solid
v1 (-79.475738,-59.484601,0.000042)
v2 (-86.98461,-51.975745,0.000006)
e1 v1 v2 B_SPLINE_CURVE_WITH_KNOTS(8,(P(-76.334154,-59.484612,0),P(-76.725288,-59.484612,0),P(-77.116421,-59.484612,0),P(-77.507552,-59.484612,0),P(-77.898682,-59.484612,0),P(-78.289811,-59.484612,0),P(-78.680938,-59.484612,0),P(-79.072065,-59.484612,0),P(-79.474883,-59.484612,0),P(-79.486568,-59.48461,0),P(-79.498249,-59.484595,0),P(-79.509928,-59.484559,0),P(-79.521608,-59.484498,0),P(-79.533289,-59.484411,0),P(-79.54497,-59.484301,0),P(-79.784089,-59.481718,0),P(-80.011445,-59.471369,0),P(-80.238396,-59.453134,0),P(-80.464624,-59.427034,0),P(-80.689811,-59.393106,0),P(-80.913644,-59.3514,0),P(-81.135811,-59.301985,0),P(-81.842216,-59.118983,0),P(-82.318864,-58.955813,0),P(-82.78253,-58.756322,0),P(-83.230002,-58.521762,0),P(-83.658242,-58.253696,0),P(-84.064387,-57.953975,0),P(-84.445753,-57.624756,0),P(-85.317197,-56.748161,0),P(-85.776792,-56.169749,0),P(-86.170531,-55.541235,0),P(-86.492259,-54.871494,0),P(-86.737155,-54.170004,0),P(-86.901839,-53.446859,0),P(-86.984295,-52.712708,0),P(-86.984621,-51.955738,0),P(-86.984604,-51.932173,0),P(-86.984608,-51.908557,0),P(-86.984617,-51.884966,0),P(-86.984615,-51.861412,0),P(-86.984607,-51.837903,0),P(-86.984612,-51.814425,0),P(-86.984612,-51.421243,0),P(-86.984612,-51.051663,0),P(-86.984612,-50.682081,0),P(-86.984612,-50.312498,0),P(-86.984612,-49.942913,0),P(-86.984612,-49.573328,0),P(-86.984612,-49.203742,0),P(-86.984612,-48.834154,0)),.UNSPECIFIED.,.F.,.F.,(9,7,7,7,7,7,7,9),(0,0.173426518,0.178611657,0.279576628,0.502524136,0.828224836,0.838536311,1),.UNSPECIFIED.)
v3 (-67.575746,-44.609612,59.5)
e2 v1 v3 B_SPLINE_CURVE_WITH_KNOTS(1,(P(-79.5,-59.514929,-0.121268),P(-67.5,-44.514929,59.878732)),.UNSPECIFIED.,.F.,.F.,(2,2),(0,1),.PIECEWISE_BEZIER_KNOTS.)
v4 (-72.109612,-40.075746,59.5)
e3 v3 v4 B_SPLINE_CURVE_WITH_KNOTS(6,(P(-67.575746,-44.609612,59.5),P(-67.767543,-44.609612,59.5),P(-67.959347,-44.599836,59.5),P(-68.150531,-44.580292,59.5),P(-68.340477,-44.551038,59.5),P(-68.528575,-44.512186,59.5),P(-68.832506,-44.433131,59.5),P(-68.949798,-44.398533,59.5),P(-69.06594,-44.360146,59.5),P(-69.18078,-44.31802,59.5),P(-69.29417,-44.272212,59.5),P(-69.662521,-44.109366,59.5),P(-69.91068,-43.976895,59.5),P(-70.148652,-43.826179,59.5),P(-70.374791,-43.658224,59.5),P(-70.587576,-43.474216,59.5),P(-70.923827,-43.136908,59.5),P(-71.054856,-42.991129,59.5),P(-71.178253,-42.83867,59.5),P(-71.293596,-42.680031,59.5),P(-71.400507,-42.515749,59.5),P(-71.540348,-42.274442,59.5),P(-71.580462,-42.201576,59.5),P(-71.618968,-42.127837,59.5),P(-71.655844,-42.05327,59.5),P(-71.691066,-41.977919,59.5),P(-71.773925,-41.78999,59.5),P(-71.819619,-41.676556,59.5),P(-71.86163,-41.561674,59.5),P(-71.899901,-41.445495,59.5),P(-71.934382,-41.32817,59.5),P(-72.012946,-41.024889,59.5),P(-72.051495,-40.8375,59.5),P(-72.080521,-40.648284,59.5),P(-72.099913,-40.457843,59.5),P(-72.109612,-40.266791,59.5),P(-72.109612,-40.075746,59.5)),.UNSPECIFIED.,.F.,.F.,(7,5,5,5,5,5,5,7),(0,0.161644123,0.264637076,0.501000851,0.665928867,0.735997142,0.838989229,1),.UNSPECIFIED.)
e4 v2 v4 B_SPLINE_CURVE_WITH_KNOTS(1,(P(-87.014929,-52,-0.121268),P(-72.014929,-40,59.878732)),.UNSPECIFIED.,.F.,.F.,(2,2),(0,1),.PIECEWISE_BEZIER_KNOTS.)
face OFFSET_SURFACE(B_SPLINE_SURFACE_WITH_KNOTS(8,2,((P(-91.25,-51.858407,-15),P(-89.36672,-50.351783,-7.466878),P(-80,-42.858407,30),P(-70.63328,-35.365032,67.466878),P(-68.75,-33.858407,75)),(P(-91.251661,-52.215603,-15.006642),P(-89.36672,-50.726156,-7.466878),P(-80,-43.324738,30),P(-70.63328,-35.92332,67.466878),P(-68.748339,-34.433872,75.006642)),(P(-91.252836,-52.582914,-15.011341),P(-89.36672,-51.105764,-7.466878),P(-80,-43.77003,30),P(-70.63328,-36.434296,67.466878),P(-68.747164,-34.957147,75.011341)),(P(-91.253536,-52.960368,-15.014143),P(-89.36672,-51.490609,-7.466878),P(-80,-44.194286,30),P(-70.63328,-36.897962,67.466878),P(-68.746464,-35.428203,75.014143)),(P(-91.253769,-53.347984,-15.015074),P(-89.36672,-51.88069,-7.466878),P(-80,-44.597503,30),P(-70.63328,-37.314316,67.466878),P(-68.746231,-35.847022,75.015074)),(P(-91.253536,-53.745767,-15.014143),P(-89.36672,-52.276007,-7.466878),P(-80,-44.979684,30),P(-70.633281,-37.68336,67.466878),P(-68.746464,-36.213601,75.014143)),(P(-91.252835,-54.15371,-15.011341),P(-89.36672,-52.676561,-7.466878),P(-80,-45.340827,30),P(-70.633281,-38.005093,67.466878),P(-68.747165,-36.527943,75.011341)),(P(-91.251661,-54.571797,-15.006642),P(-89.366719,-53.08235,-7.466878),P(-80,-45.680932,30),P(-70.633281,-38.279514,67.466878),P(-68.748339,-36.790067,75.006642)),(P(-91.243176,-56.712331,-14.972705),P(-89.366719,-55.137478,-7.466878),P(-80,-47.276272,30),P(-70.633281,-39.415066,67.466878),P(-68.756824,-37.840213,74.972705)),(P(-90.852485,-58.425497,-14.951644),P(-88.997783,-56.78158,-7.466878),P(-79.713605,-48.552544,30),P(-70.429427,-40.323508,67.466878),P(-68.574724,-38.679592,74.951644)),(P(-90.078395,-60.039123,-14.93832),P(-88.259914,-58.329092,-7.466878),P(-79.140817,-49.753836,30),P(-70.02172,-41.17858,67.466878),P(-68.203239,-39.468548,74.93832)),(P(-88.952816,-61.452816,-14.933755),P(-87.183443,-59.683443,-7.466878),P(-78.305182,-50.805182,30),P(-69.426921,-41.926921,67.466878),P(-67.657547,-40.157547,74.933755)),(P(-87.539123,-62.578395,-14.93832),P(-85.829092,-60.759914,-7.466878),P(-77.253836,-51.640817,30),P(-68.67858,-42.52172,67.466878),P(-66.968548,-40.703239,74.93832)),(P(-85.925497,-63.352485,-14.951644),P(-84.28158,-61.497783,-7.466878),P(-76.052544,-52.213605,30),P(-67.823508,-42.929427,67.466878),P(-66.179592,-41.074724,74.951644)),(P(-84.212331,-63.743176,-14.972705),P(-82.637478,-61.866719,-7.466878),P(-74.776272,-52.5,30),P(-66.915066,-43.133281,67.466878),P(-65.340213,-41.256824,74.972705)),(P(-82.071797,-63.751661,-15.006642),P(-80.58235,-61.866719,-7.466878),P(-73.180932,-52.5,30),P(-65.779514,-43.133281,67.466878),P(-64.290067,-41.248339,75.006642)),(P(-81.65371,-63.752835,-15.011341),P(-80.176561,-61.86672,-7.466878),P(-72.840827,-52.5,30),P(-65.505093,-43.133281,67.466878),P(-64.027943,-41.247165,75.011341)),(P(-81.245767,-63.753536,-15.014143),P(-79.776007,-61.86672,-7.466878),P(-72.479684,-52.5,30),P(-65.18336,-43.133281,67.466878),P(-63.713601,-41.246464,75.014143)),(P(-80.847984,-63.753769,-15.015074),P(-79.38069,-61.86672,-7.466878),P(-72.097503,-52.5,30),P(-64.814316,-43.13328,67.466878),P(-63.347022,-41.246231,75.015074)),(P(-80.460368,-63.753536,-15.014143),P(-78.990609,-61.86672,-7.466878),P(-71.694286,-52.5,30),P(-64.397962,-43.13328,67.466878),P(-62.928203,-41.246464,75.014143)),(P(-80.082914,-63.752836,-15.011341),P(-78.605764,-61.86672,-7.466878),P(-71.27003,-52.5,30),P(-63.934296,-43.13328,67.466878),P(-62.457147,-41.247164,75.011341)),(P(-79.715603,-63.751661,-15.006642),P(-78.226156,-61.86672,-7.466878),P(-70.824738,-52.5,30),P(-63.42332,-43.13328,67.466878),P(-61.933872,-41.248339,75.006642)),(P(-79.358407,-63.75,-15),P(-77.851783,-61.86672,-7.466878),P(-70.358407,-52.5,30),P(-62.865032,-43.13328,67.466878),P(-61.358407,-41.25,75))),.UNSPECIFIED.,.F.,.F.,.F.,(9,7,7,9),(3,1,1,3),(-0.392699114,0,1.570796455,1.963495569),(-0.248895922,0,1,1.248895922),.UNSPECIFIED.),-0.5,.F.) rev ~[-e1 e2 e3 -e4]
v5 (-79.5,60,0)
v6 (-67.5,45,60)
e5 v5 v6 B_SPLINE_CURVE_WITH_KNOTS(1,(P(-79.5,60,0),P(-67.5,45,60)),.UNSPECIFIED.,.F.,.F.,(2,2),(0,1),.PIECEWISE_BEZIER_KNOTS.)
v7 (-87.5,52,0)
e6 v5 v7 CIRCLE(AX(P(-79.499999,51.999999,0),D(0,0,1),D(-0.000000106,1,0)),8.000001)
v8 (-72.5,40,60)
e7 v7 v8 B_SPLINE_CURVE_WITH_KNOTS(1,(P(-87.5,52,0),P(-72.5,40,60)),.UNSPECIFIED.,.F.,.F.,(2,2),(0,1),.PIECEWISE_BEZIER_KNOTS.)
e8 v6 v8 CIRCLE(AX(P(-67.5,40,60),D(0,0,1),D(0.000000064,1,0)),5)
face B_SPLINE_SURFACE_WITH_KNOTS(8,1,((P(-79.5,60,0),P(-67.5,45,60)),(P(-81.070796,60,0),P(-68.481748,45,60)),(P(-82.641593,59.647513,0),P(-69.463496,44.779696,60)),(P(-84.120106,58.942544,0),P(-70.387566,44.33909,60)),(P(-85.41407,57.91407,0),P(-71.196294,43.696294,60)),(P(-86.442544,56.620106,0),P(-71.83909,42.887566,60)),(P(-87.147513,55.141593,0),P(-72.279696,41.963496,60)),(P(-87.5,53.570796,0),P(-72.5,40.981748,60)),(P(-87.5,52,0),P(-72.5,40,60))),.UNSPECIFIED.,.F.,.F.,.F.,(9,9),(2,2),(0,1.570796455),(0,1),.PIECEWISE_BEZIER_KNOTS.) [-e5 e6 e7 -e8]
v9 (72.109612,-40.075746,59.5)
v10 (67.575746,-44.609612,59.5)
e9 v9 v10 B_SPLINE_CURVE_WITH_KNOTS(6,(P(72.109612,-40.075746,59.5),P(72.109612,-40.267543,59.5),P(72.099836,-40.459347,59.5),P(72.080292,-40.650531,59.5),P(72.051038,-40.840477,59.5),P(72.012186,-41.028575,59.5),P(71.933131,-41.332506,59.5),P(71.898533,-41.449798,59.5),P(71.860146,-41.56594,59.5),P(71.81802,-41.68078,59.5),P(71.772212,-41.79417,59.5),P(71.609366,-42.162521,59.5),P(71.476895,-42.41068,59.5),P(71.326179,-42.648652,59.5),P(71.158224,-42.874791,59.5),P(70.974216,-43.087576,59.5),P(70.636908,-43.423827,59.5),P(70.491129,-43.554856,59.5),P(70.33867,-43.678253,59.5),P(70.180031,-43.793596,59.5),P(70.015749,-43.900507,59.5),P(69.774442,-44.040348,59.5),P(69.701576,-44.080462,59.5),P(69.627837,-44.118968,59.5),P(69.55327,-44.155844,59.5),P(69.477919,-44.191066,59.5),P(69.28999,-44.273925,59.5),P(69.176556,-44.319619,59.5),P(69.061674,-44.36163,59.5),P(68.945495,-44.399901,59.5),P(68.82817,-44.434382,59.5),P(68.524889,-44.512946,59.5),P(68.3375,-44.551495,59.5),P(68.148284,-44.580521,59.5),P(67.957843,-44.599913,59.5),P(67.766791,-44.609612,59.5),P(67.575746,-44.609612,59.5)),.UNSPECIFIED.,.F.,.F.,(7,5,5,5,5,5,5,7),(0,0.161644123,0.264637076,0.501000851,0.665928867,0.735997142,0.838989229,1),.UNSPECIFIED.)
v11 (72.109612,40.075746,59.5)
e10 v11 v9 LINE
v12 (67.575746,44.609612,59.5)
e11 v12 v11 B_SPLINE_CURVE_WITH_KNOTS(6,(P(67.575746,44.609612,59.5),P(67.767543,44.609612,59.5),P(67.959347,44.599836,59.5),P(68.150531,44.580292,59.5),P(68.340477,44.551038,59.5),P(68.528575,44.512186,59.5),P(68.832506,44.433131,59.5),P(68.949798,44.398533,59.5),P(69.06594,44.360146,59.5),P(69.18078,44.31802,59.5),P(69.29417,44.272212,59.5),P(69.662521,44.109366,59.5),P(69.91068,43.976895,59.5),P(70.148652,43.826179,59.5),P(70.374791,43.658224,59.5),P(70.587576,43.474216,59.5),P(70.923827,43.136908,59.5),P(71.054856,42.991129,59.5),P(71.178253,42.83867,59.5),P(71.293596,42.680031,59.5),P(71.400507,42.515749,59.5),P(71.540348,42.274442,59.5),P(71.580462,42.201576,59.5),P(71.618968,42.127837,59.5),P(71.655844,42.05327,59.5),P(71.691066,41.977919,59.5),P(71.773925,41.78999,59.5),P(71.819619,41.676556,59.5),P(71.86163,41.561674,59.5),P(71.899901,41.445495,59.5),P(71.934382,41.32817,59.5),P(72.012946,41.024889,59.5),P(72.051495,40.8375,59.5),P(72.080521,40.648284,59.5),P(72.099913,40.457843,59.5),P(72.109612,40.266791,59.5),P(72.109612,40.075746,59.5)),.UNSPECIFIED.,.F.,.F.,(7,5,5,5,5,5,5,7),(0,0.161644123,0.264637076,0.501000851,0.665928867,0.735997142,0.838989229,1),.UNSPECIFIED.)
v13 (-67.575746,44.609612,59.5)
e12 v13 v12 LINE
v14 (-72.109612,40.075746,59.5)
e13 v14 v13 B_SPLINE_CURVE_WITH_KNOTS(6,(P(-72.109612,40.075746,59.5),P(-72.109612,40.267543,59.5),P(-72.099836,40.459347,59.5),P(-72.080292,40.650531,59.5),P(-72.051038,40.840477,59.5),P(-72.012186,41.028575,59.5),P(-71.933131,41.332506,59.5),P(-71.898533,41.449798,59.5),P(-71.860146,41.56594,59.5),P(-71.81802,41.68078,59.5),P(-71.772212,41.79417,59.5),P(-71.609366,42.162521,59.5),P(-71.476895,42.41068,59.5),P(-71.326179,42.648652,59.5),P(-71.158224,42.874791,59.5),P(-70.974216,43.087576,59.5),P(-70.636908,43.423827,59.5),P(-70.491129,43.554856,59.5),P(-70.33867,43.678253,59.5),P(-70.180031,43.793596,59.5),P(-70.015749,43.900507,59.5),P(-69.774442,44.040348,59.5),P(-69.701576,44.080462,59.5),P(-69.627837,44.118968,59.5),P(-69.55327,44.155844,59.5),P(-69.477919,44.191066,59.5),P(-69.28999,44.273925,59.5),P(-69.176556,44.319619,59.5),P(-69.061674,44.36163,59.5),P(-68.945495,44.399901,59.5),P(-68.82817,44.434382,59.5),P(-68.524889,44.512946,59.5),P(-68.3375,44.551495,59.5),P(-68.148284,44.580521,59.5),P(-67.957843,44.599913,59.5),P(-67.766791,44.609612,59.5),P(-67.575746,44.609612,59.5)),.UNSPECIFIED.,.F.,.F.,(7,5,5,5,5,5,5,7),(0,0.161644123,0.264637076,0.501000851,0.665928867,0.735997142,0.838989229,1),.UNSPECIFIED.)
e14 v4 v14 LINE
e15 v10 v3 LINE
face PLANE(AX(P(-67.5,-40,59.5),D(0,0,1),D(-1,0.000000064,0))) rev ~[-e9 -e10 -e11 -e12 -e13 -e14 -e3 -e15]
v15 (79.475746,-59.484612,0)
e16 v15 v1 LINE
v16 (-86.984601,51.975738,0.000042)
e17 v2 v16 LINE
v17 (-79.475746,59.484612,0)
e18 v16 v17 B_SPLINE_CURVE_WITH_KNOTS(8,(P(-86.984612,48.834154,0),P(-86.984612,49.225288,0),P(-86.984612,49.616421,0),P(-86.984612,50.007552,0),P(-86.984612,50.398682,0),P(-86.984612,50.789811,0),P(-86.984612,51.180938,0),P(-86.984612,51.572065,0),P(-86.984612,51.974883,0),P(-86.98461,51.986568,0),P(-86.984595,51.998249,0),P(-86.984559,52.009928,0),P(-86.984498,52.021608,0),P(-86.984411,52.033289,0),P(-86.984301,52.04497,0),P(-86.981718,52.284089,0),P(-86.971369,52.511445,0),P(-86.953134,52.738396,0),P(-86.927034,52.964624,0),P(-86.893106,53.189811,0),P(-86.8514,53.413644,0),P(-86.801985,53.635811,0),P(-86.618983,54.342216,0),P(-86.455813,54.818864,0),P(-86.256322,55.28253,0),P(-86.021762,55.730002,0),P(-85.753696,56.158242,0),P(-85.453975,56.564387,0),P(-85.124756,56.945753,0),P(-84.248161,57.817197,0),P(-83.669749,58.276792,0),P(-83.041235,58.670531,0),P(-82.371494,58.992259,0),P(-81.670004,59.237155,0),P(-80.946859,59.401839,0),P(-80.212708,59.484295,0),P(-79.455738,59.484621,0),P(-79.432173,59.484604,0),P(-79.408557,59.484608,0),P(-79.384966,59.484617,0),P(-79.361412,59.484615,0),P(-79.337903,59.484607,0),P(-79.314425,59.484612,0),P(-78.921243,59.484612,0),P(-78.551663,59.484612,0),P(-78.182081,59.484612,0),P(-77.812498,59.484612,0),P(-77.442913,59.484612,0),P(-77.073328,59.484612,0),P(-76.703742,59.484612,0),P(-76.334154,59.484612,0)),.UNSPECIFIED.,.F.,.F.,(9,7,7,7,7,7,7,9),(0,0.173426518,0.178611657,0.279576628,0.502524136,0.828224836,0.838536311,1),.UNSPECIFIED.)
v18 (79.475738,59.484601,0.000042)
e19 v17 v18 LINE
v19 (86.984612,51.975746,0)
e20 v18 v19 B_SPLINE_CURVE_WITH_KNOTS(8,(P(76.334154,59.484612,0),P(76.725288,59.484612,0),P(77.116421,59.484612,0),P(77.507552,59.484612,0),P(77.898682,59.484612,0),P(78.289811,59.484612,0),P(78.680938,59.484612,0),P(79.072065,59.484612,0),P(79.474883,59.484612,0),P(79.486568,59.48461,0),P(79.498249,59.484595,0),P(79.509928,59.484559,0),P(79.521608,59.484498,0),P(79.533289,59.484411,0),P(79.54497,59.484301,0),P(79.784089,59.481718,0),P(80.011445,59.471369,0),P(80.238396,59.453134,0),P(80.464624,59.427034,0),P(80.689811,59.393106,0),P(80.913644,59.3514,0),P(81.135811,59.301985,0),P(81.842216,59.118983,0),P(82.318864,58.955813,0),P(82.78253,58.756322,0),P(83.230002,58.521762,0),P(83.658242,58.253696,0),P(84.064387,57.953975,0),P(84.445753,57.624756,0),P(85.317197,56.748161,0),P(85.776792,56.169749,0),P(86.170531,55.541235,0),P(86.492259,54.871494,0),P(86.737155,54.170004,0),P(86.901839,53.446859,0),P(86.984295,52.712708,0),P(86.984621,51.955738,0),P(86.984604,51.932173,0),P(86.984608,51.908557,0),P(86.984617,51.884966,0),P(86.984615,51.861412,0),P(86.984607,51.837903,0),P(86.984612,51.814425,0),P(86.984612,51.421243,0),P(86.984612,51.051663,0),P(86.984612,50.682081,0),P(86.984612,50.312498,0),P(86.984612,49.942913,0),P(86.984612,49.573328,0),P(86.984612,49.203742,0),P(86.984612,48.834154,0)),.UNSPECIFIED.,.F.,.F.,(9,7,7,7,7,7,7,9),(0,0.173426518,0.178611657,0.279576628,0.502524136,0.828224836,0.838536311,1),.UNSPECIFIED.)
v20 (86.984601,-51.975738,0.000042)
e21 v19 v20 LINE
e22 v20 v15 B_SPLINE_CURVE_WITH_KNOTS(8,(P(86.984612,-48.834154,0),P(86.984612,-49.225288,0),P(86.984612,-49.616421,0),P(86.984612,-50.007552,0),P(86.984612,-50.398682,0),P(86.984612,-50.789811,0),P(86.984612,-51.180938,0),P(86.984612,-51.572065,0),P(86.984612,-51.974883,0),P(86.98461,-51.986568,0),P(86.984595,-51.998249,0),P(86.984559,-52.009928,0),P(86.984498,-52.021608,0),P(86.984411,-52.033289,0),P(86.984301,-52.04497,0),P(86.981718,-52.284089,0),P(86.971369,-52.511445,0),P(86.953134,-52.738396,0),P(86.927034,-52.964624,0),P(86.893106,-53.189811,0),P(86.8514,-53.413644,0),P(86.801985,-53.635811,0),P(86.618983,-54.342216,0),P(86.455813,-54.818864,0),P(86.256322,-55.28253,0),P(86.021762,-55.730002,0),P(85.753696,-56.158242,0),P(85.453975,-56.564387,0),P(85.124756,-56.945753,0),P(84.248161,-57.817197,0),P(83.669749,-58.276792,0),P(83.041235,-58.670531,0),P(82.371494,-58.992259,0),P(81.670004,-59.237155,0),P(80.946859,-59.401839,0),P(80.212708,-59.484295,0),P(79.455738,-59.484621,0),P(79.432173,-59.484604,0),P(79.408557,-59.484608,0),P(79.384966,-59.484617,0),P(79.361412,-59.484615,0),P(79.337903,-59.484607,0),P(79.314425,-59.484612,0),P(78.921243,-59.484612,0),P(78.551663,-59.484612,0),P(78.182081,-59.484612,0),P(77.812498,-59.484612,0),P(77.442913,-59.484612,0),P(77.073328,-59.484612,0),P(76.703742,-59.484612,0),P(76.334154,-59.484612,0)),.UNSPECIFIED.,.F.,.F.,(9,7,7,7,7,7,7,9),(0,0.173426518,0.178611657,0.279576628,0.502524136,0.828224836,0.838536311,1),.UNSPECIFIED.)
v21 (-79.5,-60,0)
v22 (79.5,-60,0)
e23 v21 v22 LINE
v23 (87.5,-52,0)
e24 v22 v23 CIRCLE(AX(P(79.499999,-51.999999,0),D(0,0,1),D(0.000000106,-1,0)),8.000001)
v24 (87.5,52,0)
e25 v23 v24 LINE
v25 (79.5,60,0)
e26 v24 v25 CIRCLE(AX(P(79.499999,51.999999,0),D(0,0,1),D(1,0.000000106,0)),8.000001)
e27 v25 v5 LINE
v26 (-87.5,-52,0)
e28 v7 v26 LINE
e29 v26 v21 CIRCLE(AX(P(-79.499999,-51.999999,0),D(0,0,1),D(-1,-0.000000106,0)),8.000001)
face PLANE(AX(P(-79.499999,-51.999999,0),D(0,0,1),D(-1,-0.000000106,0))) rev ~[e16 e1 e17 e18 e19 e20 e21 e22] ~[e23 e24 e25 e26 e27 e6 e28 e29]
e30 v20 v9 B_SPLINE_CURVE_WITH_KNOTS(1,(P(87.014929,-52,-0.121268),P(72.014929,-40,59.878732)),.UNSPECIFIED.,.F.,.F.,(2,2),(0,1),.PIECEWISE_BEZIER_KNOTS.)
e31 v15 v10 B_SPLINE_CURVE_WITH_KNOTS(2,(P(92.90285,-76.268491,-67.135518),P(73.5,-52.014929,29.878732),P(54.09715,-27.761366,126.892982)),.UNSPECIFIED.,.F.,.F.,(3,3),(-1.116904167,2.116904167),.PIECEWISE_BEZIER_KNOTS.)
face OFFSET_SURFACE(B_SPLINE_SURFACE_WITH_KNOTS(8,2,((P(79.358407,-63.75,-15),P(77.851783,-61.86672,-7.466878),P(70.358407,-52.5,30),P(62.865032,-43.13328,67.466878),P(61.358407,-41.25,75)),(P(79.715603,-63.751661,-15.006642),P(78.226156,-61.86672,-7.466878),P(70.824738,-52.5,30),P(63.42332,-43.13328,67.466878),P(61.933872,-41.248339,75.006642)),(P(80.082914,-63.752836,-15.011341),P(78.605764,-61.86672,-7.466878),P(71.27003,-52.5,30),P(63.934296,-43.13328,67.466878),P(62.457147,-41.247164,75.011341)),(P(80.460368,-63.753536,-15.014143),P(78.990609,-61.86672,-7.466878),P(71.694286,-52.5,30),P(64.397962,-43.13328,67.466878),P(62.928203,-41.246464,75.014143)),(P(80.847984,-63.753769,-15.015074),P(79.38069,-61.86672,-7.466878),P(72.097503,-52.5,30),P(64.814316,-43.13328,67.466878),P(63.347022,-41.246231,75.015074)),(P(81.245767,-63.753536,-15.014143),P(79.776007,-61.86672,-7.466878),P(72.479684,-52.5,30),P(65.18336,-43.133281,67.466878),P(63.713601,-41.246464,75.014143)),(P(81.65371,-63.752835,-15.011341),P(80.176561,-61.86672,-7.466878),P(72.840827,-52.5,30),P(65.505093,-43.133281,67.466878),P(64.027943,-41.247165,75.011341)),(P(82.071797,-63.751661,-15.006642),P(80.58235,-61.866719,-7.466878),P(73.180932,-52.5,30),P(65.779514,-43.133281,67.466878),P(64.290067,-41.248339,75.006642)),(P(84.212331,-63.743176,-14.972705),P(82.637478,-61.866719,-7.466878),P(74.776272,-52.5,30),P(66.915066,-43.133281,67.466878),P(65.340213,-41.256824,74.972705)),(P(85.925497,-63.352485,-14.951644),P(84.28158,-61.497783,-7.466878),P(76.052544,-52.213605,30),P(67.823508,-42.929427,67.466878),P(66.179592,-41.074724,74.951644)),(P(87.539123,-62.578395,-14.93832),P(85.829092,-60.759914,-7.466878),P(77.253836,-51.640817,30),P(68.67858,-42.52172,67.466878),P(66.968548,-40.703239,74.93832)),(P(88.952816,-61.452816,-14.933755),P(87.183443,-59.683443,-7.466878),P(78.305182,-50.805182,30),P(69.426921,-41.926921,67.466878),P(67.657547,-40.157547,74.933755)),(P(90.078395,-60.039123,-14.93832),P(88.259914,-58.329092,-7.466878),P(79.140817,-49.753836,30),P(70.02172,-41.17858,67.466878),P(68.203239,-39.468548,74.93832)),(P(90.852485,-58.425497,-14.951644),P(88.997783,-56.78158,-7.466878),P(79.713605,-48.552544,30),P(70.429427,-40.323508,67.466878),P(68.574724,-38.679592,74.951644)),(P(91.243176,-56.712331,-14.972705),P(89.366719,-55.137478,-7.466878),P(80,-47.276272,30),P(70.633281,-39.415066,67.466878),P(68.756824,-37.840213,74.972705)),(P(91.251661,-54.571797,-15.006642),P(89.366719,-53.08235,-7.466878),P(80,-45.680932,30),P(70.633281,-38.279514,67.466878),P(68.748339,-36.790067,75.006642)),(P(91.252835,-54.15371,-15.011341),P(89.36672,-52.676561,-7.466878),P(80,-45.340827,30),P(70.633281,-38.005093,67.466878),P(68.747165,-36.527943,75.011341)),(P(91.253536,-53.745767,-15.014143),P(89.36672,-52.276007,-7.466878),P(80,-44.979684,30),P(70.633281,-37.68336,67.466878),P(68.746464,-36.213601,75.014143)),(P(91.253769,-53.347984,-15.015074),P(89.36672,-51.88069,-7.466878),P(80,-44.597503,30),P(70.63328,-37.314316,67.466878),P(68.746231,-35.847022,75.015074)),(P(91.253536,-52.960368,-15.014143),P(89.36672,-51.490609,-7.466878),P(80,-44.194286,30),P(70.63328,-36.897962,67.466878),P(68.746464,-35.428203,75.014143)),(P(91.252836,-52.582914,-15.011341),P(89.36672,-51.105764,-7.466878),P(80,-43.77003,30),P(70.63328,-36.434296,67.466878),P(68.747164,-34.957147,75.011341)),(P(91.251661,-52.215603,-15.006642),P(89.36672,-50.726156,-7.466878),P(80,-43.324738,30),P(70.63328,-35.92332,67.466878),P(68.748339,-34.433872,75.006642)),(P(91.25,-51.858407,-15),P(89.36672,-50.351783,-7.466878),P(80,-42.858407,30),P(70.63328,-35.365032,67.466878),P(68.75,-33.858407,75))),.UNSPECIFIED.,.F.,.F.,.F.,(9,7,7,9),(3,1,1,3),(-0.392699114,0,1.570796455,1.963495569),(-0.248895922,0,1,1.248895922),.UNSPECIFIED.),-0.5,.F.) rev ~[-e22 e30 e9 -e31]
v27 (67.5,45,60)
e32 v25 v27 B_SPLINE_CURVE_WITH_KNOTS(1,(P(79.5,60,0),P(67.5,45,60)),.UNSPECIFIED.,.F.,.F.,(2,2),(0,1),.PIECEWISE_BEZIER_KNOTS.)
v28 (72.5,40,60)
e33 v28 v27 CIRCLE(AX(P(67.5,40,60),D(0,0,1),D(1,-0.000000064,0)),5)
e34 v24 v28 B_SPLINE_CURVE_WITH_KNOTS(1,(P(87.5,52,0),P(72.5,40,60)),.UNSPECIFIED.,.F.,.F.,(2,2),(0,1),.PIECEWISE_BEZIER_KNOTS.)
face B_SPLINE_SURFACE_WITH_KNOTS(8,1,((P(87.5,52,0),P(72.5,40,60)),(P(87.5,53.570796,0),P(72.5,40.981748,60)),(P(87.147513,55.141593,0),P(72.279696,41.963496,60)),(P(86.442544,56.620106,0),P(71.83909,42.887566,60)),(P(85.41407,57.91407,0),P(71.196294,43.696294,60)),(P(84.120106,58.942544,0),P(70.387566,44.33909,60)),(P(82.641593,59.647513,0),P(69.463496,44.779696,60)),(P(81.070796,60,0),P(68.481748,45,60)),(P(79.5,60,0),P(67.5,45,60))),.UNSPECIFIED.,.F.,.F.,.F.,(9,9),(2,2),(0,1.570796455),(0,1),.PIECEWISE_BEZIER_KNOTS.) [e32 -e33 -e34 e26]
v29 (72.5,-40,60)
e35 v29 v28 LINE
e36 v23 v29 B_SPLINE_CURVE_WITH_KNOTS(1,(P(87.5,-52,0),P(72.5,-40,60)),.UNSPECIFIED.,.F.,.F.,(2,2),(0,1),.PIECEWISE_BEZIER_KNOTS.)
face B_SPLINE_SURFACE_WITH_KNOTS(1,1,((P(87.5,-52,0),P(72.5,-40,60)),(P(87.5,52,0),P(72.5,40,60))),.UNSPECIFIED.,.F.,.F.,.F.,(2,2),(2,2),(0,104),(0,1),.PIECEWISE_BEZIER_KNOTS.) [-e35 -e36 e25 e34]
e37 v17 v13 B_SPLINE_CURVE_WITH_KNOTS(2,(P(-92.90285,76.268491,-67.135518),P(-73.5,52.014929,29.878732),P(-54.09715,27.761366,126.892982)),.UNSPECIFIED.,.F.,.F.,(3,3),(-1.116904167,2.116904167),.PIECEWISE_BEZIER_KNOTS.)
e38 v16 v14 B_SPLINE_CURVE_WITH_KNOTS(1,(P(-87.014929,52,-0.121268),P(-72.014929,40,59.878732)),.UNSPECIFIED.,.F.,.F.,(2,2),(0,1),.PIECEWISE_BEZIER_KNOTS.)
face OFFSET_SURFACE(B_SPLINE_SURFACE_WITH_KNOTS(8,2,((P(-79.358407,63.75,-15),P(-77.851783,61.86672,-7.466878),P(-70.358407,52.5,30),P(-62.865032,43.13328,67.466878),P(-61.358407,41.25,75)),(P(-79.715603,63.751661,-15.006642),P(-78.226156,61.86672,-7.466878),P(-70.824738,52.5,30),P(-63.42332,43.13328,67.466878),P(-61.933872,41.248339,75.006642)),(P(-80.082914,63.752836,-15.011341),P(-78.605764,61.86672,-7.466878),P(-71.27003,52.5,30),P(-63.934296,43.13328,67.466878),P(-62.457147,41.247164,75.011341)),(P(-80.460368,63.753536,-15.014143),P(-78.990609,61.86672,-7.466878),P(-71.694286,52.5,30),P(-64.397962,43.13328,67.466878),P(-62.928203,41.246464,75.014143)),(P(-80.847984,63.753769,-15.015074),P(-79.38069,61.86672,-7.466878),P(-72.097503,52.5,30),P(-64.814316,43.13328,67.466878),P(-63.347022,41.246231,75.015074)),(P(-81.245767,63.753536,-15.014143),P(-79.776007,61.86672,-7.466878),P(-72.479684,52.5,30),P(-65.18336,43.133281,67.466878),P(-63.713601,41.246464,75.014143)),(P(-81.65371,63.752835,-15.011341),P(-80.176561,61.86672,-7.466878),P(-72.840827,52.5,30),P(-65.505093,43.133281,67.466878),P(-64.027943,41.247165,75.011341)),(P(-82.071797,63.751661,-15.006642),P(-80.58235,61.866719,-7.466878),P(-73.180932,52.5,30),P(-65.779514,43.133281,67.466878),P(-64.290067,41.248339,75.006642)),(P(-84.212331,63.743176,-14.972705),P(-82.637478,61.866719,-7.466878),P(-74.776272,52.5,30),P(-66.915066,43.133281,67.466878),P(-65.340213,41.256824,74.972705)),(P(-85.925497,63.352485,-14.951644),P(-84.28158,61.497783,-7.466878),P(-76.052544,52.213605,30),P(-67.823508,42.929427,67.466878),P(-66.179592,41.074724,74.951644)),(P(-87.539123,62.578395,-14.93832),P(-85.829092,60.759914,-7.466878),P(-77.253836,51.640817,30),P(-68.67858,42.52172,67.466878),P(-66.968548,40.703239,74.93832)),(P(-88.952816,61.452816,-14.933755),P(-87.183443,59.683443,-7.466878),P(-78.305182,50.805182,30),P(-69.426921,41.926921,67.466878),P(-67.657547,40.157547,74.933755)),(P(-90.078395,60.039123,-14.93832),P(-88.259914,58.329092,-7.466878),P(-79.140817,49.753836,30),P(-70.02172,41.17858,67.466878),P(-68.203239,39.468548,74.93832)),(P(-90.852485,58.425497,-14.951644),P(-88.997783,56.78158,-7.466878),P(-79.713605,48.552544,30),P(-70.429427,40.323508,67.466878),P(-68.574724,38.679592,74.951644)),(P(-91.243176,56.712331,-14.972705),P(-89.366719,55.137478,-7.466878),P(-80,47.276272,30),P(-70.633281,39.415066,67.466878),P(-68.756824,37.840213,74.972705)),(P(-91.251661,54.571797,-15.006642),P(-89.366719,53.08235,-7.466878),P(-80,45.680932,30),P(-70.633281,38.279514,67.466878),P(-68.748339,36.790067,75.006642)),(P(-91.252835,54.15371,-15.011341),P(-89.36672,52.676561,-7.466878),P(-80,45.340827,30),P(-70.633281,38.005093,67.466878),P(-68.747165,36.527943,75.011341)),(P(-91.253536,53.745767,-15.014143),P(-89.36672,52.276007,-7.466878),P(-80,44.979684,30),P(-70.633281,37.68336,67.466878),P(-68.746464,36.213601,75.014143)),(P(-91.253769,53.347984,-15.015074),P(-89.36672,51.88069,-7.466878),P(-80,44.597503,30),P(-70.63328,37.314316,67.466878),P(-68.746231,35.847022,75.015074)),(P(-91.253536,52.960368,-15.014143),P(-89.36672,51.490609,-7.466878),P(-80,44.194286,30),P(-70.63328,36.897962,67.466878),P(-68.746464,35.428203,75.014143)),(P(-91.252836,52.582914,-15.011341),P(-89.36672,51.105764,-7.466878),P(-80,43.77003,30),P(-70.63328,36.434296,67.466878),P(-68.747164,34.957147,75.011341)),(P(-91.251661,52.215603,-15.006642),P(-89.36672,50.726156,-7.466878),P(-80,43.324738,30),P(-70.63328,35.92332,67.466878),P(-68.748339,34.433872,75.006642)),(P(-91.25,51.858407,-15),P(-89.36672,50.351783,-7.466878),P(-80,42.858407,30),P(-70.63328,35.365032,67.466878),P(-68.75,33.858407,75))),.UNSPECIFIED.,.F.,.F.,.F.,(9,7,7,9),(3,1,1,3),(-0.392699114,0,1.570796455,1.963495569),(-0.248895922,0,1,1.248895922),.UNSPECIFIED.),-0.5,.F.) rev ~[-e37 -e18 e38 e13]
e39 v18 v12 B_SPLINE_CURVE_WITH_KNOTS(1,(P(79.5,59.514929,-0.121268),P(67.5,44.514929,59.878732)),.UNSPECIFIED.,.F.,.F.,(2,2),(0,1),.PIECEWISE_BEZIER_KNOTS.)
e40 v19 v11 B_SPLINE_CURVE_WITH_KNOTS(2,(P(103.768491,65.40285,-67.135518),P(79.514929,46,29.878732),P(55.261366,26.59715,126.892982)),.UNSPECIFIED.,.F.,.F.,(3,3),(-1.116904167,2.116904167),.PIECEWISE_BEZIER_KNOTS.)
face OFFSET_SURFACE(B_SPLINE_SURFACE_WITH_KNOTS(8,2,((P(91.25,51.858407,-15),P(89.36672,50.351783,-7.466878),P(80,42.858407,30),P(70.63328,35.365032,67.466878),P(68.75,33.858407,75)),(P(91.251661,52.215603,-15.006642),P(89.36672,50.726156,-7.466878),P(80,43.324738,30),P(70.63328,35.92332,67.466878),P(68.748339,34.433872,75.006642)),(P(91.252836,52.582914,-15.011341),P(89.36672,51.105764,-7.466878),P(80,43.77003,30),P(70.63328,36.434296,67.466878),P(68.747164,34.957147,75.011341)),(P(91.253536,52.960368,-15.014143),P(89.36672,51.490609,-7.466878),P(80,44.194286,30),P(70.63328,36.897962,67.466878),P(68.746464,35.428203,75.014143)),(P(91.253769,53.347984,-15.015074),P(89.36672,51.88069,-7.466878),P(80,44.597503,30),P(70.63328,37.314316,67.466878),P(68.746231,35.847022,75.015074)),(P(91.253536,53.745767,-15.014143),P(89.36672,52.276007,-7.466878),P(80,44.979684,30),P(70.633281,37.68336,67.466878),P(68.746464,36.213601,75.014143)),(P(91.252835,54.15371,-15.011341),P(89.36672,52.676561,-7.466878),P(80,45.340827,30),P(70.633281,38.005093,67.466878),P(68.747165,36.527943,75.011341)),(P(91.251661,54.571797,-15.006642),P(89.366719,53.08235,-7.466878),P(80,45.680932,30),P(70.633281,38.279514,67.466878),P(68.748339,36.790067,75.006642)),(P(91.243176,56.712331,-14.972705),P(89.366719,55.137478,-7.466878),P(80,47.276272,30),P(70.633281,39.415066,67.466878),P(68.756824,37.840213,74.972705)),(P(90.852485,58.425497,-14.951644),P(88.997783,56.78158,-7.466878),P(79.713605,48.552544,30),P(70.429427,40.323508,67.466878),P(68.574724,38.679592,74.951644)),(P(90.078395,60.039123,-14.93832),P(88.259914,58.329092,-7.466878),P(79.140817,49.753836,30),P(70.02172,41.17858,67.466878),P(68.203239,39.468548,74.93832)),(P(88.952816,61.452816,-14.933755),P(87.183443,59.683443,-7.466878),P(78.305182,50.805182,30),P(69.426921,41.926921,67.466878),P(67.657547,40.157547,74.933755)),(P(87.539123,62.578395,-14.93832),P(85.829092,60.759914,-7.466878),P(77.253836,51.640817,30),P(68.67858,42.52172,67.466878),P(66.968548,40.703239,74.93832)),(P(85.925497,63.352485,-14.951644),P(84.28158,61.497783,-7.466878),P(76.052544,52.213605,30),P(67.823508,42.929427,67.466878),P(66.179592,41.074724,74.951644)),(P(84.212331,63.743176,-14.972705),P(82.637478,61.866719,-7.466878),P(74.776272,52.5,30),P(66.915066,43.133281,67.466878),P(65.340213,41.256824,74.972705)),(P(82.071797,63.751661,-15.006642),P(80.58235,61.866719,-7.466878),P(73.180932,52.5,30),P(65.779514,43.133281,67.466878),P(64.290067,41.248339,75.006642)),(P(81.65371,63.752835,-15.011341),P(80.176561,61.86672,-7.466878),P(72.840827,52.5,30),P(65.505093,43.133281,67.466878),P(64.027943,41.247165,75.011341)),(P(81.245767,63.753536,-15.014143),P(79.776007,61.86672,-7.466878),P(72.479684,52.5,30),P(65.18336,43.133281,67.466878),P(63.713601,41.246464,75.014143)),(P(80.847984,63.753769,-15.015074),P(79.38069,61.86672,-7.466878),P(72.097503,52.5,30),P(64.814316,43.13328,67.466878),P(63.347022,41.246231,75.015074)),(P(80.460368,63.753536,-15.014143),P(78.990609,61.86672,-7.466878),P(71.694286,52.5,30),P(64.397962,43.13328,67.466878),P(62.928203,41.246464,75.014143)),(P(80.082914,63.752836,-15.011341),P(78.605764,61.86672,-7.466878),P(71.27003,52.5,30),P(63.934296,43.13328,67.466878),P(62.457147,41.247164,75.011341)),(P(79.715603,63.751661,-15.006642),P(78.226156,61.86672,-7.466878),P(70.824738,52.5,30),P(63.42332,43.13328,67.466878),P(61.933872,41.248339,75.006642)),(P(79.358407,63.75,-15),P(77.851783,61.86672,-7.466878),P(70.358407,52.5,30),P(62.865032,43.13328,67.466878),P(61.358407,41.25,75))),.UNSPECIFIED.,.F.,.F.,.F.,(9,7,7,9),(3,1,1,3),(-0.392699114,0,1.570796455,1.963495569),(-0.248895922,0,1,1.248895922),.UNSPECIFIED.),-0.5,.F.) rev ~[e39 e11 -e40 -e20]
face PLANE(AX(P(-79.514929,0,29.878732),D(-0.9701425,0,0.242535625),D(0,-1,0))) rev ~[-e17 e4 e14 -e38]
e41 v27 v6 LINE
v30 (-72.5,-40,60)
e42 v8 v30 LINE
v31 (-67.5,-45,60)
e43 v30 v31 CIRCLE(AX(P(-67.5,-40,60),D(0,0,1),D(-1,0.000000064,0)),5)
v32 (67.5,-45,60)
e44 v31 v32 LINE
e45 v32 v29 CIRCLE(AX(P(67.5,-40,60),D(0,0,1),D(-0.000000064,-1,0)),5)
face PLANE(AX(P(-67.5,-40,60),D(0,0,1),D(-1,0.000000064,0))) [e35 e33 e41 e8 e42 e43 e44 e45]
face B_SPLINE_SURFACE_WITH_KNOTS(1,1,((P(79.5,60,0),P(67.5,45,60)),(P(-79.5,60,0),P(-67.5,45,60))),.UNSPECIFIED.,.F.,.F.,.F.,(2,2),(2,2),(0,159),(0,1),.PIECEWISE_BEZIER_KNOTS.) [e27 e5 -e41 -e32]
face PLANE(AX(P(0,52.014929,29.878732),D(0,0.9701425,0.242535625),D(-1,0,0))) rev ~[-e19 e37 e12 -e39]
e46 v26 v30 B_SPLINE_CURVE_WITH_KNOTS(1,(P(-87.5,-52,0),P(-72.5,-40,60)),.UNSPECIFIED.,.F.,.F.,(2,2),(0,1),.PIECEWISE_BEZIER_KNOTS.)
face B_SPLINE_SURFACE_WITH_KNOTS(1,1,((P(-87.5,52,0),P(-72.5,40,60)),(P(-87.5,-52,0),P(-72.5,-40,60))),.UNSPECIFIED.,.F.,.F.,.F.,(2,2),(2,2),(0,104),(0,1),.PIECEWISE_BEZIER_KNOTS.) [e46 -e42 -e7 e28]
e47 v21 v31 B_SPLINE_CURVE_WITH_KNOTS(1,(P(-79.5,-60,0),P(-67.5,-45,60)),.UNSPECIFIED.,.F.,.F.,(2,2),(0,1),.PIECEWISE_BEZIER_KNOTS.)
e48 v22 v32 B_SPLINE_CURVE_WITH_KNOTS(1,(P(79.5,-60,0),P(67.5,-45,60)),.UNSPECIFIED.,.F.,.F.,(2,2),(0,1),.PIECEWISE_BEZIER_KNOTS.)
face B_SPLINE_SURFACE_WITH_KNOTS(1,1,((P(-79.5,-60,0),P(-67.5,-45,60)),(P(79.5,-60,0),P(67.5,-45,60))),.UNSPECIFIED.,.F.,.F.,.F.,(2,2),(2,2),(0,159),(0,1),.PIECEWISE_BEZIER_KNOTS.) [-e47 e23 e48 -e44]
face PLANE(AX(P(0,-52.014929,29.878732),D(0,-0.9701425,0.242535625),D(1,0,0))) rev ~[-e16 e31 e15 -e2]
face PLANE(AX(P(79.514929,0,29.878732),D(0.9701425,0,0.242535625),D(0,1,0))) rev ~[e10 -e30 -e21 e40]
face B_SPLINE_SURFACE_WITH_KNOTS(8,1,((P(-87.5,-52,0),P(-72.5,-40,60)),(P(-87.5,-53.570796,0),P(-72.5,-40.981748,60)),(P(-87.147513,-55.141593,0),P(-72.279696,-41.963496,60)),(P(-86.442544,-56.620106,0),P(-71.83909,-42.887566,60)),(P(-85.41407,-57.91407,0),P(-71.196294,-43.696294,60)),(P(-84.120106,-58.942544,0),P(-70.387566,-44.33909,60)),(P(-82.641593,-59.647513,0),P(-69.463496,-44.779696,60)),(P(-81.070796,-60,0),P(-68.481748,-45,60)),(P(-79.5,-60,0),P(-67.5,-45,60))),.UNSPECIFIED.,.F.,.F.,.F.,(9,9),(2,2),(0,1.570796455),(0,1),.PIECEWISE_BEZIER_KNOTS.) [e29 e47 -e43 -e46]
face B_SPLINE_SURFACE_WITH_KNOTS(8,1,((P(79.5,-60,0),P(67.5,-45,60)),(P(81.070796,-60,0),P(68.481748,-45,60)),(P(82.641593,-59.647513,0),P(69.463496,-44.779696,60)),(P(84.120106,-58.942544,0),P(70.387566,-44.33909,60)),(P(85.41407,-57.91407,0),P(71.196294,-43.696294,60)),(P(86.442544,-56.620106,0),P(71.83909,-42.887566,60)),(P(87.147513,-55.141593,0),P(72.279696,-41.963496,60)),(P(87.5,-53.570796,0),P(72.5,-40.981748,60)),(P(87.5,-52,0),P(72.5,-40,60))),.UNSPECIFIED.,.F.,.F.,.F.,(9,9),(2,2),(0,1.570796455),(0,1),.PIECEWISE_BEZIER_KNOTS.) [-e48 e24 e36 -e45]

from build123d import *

# Parameters (mm, degrees)
F4_T = -0.5


with BuildPart() as f3:
    # F0 (on Top) → F3 section 0
    with BuildSketch(Plane.XY):
        with BuildLine():
            ThreePointArc((-87.5, -52), (-85.156854, -57.656854), (-79.5, -60))
            Line((-79.5, -60), (79.5, -60))
            ThreePointArc((79.5, -60), (85.156854, -57.656854), (87.5, -52))
            Line((87.5, -52), (87.5, 52))
            ThreePointArc((87.5, 52), (85.156854, 57.656854), (79.5, 60))
            Line((79.5, 60), (-79.5, 60))
            ThreePointArc((-79.5, 60), (-85.156854, 57.656854), (-87.5, 52))
            Line((-87.5, 52), (-87.5, -52))
        make_face()
    # F2 (on offset) → F3 section 1
    with BuildSketch(Plane.XY.offset(60)):
        with BuildLine():
            Line((67.5, 45), (-67.5, 45))
            ThreePointArc((-67.5, 45), (-71.035534, 43.535534), (-72.5, 40))
            Line((-72.5, 40), (-72.5, -40))
            ThreePointArc((-72.5, -40), (-71.035534, -43.535534), (-67.5, -45))
            Line((-67.5, -45), (67.5, -45))
            ThreePointArc((67.5, -45), (71.035534, -43.535534), (72.5, -40))
            Line((72.5, -40), (72.5, 40))
            ThreePointArc((72.5, 40), (71.035534, 43.535534), (67.5, 45))
        make_face()
    loft()

    # F4
    f4_openings = [f3.faces().sort_by_distance(p)[0] for p in [
        (0, 0, 0),
    ]]
    offset(amount=F4_T, openings=f4_openings)


solid = f3.part
